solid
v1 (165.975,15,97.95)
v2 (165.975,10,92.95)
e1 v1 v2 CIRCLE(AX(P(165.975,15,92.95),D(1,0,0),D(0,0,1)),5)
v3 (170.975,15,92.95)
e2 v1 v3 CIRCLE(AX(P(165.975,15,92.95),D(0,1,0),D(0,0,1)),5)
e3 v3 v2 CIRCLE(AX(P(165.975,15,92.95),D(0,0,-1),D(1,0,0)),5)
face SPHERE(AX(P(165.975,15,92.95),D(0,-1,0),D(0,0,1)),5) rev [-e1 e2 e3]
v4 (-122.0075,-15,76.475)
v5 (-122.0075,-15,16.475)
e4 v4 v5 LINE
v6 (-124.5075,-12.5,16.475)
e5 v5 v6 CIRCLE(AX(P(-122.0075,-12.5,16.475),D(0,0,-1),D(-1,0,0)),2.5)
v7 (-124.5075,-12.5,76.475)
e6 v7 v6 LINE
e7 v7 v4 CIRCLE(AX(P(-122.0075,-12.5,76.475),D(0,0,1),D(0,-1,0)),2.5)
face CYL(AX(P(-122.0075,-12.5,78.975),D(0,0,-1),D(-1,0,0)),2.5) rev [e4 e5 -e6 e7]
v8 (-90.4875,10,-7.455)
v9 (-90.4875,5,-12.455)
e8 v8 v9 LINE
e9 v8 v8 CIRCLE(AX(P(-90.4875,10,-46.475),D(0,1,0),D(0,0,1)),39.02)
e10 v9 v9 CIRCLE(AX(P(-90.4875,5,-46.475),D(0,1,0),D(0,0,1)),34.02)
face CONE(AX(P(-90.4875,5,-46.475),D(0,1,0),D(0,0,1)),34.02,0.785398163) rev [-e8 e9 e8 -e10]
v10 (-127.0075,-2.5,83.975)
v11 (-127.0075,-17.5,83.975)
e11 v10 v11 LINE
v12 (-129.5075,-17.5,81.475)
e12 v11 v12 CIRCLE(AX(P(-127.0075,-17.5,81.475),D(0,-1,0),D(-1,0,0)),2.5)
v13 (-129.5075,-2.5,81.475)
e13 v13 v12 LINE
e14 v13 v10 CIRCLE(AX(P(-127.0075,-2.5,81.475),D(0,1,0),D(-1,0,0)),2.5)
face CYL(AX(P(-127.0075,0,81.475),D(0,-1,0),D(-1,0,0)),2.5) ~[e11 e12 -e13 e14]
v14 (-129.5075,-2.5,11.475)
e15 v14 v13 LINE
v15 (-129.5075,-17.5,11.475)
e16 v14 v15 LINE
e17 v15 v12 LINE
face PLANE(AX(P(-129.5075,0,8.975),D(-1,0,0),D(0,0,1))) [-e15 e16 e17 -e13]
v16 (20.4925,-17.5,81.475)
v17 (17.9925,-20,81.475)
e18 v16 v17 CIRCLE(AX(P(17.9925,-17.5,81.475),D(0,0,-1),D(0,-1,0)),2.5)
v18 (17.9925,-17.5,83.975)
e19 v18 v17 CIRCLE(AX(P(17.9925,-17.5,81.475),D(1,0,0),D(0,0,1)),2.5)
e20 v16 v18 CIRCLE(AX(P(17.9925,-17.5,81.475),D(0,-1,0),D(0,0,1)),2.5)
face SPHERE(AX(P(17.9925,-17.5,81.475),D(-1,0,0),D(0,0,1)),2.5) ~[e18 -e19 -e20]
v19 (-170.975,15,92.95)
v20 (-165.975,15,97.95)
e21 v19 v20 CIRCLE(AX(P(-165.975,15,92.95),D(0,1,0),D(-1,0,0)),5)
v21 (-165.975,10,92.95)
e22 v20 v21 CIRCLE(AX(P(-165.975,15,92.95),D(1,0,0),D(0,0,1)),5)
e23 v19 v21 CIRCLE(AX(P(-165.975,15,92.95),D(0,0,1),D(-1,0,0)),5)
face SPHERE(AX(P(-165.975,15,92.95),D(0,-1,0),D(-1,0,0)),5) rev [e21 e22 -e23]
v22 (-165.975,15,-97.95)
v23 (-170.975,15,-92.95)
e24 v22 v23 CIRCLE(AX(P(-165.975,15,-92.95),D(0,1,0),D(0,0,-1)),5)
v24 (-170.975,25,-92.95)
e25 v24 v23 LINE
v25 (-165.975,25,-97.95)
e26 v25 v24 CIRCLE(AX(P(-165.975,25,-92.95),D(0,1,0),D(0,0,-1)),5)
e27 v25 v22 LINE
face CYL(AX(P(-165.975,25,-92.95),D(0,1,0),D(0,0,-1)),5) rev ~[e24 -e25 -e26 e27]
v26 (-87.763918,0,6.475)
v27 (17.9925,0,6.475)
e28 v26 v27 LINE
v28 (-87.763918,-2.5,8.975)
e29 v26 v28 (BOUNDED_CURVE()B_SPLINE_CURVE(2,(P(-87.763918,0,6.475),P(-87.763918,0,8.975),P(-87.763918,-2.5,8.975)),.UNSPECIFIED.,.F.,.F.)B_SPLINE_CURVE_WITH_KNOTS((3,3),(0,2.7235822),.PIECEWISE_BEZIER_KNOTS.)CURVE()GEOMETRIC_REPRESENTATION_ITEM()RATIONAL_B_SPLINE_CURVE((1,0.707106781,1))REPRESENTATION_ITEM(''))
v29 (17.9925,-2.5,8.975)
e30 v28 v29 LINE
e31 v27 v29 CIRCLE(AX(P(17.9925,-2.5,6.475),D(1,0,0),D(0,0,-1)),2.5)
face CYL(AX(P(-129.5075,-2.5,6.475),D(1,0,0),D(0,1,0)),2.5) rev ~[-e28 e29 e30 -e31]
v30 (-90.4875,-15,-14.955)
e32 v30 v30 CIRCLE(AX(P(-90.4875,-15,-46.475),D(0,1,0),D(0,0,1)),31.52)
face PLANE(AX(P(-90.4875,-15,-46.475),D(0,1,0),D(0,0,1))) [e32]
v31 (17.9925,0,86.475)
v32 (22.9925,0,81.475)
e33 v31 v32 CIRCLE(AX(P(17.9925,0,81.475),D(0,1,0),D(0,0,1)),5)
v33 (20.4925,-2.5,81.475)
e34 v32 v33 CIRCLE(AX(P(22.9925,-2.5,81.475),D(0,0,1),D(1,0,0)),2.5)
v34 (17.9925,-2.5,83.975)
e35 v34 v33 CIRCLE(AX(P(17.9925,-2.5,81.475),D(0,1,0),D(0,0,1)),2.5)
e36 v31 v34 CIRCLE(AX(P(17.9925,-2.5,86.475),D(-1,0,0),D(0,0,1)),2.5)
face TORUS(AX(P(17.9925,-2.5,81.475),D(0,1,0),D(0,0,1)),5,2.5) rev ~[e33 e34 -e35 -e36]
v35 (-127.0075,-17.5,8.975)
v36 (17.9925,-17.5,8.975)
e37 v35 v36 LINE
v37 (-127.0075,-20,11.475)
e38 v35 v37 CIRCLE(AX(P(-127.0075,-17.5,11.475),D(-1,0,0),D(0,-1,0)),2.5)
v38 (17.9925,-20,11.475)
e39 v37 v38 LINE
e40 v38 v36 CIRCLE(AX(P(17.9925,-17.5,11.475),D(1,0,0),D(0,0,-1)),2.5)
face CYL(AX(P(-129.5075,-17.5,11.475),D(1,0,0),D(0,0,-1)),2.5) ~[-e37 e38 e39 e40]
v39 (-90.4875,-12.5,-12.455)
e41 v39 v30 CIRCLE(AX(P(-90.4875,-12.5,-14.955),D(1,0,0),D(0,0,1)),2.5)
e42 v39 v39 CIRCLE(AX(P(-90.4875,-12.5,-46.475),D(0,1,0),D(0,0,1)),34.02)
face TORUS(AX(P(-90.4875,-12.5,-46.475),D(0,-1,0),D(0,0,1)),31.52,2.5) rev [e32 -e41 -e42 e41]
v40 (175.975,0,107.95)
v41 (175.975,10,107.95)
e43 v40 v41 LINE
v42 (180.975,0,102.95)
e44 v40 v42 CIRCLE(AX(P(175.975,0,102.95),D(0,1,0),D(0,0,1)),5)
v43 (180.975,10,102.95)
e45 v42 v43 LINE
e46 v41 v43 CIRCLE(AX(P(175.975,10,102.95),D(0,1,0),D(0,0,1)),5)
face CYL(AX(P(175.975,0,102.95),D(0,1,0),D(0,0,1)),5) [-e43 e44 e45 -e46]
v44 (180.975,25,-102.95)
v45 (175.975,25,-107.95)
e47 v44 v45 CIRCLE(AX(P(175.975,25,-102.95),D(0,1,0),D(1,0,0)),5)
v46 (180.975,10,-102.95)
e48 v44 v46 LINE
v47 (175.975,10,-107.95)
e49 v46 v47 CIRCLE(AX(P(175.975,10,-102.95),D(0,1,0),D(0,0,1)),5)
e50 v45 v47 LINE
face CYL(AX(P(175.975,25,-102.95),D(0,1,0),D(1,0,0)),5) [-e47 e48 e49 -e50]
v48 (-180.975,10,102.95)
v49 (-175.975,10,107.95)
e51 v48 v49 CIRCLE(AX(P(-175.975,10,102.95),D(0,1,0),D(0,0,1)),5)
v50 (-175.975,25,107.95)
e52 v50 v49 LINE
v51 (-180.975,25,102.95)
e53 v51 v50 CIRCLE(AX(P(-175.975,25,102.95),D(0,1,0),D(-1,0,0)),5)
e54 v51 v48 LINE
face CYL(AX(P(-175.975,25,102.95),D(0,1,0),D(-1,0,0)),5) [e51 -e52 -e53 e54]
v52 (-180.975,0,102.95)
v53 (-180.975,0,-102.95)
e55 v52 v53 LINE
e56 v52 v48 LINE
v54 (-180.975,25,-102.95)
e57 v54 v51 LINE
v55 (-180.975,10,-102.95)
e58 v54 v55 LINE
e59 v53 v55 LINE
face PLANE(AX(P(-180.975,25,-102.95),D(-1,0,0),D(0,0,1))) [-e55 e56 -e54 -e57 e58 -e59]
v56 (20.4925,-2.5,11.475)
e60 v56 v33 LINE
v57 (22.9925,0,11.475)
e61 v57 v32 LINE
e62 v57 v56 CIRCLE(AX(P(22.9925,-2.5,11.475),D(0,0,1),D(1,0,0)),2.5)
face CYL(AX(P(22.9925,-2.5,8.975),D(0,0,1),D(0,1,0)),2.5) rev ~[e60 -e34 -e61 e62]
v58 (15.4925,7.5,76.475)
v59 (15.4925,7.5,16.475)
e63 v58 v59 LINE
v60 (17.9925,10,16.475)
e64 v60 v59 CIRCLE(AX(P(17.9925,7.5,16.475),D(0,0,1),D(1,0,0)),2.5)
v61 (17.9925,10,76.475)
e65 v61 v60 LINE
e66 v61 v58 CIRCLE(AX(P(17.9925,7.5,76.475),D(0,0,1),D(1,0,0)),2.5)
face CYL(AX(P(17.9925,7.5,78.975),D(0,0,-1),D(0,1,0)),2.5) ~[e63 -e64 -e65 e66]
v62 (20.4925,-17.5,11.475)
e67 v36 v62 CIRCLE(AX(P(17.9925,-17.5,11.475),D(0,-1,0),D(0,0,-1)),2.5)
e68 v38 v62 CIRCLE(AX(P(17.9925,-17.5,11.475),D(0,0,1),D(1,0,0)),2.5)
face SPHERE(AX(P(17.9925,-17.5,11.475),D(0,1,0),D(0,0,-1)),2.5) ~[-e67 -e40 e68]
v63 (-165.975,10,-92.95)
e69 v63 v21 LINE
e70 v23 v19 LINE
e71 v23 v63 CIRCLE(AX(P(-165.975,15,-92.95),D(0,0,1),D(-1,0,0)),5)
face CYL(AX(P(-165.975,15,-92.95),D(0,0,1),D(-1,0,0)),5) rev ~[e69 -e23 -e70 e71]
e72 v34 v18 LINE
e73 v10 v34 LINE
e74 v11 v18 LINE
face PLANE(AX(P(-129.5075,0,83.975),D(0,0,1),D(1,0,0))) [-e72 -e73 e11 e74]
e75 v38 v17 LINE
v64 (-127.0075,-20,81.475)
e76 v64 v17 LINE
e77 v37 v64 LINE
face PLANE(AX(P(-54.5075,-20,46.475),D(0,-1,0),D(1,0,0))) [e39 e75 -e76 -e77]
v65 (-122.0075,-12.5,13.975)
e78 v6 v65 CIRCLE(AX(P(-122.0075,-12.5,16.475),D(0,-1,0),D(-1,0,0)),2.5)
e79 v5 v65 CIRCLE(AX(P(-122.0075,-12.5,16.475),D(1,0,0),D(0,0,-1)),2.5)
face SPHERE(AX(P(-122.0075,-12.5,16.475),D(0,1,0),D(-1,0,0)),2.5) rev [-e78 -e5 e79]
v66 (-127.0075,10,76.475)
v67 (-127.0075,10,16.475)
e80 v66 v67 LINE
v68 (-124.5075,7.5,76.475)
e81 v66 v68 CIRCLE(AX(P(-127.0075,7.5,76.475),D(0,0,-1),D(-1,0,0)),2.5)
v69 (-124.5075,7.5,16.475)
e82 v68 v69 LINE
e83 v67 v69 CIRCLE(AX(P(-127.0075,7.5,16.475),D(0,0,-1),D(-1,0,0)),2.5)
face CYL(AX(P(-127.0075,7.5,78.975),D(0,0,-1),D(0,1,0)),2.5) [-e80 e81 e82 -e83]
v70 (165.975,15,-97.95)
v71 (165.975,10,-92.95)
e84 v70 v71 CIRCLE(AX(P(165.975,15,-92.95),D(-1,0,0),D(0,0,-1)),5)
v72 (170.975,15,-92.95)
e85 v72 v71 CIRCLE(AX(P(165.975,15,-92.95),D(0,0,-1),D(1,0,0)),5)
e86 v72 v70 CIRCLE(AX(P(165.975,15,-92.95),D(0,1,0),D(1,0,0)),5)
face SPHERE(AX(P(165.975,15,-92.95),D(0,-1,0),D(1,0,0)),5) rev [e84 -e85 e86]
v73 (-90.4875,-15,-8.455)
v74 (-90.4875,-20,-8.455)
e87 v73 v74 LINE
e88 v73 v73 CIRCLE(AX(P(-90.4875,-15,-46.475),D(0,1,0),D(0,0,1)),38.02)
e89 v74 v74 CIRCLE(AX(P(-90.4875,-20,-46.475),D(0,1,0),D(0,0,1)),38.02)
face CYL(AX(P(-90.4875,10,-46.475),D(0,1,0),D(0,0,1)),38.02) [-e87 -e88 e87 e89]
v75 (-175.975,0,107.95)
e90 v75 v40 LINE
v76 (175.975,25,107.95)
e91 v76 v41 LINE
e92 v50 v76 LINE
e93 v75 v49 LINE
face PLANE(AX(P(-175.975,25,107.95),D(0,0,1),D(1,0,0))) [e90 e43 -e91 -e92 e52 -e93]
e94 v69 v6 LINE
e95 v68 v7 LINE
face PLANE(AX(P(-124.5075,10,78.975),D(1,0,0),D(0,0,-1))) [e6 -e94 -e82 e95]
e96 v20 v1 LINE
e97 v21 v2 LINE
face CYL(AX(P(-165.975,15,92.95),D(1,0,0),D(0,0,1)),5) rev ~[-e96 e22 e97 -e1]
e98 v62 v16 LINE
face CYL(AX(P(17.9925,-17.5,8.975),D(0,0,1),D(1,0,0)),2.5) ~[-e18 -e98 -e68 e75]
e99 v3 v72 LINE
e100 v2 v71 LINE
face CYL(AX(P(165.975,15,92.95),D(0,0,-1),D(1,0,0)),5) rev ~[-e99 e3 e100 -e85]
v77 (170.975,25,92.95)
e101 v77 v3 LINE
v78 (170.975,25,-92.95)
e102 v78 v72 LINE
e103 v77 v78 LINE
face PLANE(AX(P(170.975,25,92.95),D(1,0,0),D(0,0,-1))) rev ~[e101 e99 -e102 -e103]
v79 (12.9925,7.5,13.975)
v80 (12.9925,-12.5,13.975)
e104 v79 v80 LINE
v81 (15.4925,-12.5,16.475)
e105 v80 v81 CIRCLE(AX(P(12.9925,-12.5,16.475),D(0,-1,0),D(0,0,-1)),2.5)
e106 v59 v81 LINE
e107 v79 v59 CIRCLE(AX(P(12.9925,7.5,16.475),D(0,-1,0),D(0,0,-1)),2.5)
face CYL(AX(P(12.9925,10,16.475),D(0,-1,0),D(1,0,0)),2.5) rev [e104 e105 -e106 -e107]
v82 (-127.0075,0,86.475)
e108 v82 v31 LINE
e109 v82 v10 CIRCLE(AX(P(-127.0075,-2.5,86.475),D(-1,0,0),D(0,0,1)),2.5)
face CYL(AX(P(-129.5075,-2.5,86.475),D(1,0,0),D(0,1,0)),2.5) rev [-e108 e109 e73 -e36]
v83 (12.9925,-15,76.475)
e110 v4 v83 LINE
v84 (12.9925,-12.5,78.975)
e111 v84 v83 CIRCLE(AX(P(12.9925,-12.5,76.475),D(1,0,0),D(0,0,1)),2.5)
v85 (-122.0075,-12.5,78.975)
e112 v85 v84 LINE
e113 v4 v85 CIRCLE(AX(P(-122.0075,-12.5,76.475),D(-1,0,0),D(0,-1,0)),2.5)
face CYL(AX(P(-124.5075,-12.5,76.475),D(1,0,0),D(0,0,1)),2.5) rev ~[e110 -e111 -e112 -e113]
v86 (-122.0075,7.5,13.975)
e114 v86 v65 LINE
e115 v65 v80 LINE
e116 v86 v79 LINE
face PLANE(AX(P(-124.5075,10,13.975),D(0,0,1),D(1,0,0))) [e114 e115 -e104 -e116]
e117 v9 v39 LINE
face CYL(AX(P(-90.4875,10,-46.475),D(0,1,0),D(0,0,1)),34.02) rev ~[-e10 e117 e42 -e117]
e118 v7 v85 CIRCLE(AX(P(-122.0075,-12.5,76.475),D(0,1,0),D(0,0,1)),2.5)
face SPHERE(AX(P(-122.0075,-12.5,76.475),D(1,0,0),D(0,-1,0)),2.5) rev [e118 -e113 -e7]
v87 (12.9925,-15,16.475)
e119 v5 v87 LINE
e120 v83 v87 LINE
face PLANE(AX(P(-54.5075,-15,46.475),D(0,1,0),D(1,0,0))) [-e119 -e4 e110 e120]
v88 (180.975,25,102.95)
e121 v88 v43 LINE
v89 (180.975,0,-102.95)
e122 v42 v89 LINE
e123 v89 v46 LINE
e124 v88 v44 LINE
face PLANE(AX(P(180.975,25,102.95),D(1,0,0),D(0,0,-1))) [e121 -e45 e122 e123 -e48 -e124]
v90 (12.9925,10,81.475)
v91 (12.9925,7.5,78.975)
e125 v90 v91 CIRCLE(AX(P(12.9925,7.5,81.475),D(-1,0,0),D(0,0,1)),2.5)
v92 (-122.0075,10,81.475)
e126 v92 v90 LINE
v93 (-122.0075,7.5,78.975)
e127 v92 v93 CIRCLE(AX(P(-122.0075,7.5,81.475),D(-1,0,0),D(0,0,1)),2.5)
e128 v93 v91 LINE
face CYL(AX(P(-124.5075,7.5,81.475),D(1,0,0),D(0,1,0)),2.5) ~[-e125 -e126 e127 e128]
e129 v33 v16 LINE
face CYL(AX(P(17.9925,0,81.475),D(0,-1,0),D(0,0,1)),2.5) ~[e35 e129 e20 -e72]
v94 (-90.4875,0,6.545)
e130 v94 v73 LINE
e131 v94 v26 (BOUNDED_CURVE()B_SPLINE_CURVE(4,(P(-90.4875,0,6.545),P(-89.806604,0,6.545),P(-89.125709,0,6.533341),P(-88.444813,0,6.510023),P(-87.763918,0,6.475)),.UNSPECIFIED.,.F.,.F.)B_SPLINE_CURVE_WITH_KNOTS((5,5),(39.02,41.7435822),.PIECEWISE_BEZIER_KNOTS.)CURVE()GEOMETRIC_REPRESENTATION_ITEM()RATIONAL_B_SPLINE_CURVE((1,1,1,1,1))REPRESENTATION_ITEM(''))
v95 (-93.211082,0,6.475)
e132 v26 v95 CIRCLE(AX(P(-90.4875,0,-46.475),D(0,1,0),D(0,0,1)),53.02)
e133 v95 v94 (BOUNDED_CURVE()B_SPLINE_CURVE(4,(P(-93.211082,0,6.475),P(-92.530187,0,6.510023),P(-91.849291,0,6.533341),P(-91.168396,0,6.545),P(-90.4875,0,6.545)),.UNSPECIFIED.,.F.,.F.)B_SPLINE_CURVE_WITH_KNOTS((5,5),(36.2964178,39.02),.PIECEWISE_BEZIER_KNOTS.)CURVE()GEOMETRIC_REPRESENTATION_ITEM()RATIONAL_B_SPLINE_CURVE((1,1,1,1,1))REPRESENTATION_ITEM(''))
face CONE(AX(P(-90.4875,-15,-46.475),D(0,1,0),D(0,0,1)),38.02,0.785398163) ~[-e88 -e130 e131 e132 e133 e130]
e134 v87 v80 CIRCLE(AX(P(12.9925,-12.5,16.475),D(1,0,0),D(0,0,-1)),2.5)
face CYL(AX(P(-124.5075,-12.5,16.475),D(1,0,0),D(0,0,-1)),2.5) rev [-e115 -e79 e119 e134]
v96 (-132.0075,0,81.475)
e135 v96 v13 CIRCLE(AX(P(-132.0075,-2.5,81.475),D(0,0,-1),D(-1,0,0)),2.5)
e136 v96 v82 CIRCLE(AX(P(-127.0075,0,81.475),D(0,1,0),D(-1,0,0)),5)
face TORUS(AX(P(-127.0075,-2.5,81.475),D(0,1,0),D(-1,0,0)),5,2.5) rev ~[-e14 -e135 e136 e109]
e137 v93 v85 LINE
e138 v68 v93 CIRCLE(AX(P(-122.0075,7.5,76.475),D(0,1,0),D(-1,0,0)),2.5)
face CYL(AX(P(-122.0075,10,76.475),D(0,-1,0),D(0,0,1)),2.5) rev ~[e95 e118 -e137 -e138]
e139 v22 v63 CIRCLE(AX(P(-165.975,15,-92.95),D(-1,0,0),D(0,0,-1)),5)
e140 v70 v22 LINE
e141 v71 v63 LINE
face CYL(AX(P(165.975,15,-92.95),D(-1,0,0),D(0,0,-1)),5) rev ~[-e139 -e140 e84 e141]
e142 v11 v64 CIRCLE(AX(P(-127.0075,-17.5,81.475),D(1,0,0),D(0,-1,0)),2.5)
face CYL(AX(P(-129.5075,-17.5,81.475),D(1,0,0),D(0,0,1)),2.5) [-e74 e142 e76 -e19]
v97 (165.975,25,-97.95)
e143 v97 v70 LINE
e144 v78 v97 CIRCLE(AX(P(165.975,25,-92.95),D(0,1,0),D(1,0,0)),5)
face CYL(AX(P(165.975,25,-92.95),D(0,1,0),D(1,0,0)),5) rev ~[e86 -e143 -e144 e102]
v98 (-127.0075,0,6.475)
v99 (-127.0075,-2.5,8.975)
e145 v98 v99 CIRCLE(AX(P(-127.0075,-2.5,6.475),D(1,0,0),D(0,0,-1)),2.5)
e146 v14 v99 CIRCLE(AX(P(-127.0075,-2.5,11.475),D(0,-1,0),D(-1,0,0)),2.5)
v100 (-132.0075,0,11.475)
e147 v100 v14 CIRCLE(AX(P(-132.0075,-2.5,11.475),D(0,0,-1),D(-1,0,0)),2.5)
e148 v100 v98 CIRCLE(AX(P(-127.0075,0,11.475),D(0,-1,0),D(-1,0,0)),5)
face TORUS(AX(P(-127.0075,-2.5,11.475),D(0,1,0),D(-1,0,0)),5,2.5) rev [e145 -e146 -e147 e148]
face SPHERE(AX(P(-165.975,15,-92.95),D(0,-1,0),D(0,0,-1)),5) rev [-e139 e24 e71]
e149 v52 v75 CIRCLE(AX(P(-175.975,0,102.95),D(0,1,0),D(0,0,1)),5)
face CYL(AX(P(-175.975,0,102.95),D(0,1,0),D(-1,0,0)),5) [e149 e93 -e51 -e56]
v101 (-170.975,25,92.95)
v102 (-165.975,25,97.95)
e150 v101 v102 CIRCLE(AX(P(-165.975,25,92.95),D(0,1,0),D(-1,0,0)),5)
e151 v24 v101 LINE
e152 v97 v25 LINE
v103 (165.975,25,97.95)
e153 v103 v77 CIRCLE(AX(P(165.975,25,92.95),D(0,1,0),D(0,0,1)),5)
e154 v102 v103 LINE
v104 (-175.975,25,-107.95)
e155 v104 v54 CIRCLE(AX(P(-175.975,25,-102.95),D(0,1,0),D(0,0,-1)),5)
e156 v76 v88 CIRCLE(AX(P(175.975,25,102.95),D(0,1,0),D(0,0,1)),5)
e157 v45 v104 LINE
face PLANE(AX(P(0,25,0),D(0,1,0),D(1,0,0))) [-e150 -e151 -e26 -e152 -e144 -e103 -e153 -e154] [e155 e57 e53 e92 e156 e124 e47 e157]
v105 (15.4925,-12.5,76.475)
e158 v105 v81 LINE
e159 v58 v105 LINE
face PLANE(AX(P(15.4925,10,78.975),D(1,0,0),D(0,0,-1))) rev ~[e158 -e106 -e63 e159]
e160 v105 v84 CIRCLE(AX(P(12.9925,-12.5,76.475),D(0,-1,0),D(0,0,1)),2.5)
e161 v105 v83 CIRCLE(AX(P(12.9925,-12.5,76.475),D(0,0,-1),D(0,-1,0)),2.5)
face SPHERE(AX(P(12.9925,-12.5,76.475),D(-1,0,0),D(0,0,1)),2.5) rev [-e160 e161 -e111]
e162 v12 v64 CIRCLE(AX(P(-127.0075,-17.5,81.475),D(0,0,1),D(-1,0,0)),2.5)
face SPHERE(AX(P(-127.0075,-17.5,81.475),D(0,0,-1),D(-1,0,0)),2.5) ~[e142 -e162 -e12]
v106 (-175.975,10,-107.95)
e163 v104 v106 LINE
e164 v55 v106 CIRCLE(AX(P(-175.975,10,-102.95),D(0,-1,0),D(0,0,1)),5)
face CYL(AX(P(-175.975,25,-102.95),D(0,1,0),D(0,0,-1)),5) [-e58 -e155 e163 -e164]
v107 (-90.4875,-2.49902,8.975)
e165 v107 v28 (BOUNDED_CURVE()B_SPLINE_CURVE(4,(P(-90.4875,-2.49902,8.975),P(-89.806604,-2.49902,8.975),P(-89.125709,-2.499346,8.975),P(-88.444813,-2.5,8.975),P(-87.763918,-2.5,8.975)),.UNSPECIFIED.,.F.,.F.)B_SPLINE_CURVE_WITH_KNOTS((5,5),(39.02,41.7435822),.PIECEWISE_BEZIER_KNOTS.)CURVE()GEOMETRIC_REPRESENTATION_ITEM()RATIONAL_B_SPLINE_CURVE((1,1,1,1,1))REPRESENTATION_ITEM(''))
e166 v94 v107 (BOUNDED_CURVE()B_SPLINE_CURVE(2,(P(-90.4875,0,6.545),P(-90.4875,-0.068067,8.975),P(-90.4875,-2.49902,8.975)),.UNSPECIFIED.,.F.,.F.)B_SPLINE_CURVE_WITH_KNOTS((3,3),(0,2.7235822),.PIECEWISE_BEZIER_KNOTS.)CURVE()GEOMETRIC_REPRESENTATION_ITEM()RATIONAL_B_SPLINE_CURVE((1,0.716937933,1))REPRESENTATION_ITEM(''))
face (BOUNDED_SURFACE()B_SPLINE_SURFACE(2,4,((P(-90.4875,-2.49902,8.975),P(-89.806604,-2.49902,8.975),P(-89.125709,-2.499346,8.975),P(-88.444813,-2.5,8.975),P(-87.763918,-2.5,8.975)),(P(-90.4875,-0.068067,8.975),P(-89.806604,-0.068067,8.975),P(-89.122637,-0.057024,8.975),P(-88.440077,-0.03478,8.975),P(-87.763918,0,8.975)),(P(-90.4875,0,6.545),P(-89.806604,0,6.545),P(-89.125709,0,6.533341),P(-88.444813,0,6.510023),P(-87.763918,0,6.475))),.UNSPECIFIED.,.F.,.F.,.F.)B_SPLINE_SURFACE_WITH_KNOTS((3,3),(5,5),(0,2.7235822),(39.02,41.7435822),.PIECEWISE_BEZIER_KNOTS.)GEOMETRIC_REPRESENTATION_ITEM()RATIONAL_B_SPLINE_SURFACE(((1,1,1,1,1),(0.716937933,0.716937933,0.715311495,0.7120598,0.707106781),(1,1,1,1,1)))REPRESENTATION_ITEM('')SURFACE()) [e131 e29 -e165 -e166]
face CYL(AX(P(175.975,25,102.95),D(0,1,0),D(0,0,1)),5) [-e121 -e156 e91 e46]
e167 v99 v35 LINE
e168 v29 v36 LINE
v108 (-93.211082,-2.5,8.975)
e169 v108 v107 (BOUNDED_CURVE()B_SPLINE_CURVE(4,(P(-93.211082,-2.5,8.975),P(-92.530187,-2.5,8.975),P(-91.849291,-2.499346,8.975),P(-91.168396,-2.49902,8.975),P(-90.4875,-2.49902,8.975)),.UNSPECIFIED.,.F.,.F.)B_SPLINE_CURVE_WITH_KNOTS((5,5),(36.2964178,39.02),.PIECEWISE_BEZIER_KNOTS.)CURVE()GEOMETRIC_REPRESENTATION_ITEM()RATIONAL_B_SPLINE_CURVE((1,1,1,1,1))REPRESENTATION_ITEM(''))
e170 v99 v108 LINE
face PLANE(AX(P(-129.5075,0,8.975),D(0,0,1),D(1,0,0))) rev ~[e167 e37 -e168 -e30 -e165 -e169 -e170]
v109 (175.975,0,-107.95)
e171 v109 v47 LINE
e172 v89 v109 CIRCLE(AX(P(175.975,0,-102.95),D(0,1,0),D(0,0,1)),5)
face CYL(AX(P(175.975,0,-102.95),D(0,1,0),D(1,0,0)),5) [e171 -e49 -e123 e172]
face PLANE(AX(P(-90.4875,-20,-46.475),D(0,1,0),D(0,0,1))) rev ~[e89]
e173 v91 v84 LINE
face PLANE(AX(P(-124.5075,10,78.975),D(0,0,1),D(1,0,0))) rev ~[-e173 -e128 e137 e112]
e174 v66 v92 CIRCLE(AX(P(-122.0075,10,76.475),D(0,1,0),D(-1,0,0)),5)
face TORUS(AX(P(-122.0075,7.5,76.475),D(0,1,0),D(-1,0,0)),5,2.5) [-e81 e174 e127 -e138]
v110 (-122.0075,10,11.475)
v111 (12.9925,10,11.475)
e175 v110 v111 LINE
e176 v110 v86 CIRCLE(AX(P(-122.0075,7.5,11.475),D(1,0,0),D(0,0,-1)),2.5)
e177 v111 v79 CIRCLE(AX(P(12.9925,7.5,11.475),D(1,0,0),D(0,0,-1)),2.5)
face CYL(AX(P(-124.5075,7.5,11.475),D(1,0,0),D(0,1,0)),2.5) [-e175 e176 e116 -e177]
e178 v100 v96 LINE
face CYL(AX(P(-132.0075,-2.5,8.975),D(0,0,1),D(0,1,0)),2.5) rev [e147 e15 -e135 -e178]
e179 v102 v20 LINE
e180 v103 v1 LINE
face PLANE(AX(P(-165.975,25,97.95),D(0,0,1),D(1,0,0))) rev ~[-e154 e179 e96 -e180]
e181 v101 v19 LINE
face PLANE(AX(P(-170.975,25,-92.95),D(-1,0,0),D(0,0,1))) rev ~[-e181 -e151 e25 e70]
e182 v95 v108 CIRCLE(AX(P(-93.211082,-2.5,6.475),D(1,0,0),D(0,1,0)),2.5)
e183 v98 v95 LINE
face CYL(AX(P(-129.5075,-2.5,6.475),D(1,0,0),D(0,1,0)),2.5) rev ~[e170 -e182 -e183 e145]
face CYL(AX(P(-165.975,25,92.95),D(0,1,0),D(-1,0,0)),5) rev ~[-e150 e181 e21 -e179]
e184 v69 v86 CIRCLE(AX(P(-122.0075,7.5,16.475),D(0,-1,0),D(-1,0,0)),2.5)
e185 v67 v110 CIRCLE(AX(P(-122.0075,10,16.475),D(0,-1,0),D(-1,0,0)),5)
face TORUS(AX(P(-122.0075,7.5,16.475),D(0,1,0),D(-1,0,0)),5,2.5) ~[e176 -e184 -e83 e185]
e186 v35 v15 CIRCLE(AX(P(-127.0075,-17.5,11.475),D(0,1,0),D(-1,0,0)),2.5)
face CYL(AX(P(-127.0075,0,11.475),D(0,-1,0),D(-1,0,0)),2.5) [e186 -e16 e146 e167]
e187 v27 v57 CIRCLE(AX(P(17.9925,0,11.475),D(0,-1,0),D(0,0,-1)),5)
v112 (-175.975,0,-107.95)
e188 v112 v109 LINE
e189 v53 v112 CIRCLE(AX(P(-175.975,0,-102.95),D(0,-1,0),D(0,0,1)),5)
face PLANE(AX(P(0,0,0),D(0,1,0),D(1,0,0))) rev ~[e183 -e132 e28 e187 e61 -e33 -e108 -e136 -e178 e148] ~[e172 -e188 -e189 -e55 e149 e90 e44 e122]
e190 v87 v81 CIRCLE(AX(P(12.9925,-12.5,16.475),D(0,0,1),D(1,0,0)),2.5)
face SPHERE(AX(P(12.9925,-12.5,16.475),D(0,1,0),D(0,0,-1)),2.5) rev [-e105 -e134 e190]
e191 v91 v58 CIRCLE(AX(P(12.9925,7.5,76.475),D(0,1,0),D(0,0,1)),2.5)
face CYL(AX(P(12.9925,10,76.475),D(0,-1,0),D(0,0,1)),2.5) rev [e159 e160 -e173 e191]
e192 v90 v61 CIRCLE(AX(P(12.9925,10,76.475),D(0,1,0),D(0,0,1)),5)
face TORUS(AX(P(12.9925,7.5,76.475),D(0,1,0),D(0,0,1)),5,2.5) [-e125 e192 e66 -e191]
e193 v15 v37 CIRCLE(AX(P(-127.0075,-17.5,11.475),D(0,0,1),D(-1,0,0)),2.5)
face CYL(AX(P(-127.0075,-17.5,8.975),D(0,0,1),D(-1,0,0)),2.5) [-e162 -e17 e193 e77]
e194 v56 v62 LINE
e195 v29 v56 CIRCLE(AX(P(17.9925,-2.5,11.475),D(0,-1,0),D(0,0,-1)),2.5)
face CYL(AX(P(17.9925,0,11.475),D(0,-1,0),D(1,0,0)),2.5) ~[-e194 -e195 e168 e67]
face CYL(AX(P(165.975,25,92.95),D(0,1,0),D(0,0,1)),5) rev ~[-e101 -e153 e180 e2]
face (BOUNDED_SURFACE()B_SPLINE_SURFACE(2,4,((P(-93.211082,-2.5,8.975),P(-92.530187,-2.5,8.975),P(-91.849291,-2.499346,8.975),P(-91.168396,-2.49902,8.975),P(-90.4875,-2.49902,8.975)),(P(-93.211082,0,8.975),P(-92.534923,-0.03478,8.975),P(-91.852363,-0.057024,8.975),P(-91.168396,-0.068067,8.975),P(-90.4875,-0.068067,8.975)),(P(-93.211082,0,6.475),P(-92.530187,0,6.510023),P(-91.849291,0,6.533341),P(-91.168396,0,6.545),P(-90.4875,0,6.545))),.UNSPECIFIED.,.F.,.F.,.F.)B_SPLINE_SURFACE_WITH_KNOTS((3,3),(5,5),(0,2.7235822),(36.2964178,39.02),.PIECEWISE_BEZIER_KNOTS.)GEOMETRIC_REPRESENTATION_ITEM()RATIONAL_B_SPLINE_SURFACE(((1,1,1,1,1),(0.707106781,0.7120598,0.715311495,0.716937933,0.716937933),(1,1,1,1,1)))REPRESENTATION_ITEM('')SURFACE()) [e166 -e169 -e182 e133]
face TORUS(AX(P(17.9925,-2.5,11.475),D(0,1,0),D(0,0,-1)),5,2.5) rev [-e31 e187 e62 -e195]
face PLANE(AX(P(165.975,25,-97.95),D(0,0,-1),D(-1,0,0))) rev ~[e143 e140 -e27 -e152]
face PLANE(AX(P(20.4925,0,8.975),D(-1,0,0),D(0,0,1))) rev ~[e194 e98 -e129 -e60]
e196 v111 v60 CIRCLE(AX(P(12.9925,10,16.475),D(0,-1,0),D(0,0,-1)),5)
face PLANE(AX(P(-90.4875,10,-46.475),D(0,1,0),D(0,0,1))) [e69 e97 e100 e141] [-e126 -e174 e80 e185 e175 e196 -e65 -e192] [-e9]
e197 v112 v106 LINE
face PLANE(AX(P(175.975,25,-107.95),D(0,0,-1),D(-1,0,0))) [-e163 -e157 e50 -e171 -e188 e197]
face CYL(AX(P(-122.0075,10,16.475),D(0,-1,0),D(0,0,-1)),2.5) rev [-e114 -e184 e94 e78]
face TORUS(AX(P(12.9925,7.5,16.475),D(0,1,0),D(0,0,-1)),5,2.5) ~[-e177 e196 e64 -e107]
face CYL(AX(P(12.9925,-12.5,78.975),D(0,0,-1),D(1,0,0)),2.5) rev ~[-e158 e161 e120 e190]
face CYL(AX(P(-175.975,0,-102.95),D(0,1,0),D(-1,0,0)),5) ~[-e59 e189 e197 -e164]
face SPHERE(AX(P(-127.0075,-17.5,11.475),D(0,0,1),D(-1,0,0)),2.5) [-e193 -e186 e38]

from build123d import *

# Parameters (mm, degrees)
SKETCH1_W           = 361.95
SKETCH1_H           = 215.9
BOSS_EXTRUDE1_DEPTH = 10
FILLET1_R           = 5
BOSS_EXTRUDE2_START = 15
BOSS_EXTRUDE2_DEPTH = 15
FILLET2_R           = 5
SKETCH3_R           = 38.02
BOSS_EXTRUDE3_DEPTH = 30
SKETCH4_R           = 34.02
CUT_EXTRUDE1_DEPTH  = 25
CHAMFER1_SIZE       = 15
CHAMFER2_SIZE       = 5
FILLET3_R           = 2.5
SKETCH6_W           = 150
SKETCH6_H           = 75
BOSS_EXTRUDE4_DEPTH = 20
SKETCH5_W           = 140
SKETCH5_H           = 65
CUT_EXTRUDE2_DEPTH  = 25
FILLET4_R           = 2.5
FILLET5_R           = 2.5


with BuildPart() as part:
    # Sketch1 → Boss-Extrude1 (new body)
    with BuildSketch(Plane(origin=(0, 0, 0), x_dir=(1, 0, 0), z_dir=(0, 1, 0))):
        Rectangle(SKETCH1_W, SKETCH1_H)
    extrude(amount=BOSS_EXTRUDE1_DEPTH)

    # Fillet1
    fillet1_edges = [part.edges().sort_by_distance(p)[0] for p in [
        (-180.975, 5, 107.95),
        (-180.975, 5, -107.95),
        (180.975, 5, -107.95),
        (180.975, 5, 107.95),
    ]]
    fillet(fillet1_edges, radius=FILLET1_R)

    # Sketch2 → Boss-Extrude2 (add)
    with BuildSketch(Plane(origin=(0, 10, 0), x_dir=(1, 0, 0), z_dir=(0, 1, 0)).offset(BOSS_EXTRUDE2_START)):
        with BuildLine():
            Line((-175.975, -107.95), (175.975, -107.95))
            ThreePointArc((175.975, -107.95), (179.510533906, -106.485533906), (180.975, -102.95))
            Line((180.975, -102.95), (180.975, 102.95))
            ThreePointArc((180.975, 102.95), (179.510533906, 106.485533906), (175.975, 107.95))
            Line((175.975, 107.95), (-175.975, 107.95))
            ThreePointArc((-175.975, 107.95), (-179.510533906, 106.485533906), (-180.975, 102.95))
            Line((-180.975, 102.95), (-180.975, -102.95))
            ThreePointArc((-180.975, -102.95), (-179.510533906, -106.485533906), (-175.975, -107.95))
        make_face()
        with BuildLine():
            Line((-165.975, -97.95), (165.975, -97.95))
            ThreePointArc((165.975, -97.95), (169.510533906, -96.485533906), (170.975, -92.95))
            Line((170.975, -92.95), (170.975, 92.95))
            ThreePointArc((170.975, 92.95), (169.510533906, 96.485533906), (165.975, 97.95))
            Line((165.975, 97.95), (-165.975, 97.95))
            ThreePointArc((-165.975, 97.95), (-169.510533906, 96.485533906), (-170.975, 92.95))
            Line((-170.975, 92.95), (-170.975, -92.95))
            ThreePointArc((-170.975, -92.95), (-169.510533906, -96.485533906), (-165.975, -97.95))
        make_face(mode=Mode.SUBTRACT)
    extrude(amount=-BOSS_EXTRUDE2_DEPTH)

    # Fillet2
    fillet2_edges = [part.edges().sort_by_distance(p)[0] for p in [
        (0, 10, 97.95),
        (169.510533906, 10, 96.485533906),
        (170.975, 10, 0),
        (169.510533906, 10, -96.485533906),
        (0, 10, -97.95),
        (-169.510533906, 10, -96.485533906),
        (-170.975, 10, 0),
        (-169.510533906, 10, 96.485533906),
    ]]
    fillet(fillet2_edges, radius=FILLET2_R)

    # Sketch3 → Boss-Extrude3 (add)
    with BuildSketch(Plane(origin=(0, 10, 0), x_dir=(1, 0, 0), z_dir=(0, 1, 0))):
        with Locations(Location((-90.4875, 46.475, 0), (0, 0, 270))):
            Circle(SKETCH3_R)
    extrude(amount=-BOSS_EXTRUDE3_DEPTH)

    # Sketch4 → Cut-Extrude1 (cut)
    with BuildSketch(Plane(origin=(0, 10, 0), x_dir=(1, 0, 0), z_dir=(0, 1, 0))):
        with Locations(Location((-90.4875, 46.475, 0), (0, 0, 270))):
            Circle(SKETCH4_R)
    extrude(amount=-CUT_EXTRUDE1_DEPTH, mode=Mode.SUBTRACT)

    # Chamfer1
    chamfer1_edges = [part.edges().sort_by_distance(p)[0] for p in [
        (-90.4875, 0, -84.495),
    ]]
    chamfer(chamfer1_edges, length=CHAMFER1_SIZE)

    # Chamfer2
    chamfer2_edges = [part.edges().sort_by_distance(p)[0] for p in [
        (-90.4875, 10, -80.495),
    ]]
    chamfer(chamfer2_edges, length=CHAMFER2_SIZE)

    # Fillet3
    fillet3_edges = [part.edges().sort_by_distance(p)[0] for p in [
        (-90.4875, -15, -80.495),
    ]]
    fillet(fillet3_edges, radius=FILLET3_R)

    # Sketch6 → Boss-Extrude4 (add)
    with BuildSketch(Plane.XZ):
        with Locations((-54.5075, 46.475)):
            Rectangle(SKETCH6_W, SKETCH6_H)
    extrude(amount=BOSS_EXTRUDE4_DEPTH)

    # Sketch5 → Cut-Extrude2 (cut)
    with BuildSketch(Plane(origin=(0, 10, 0), x_dir=(1, 0, 0), z_dir=(0, 1, 0))):
        with Locations((-54.5075, -46.475)):
            Rectangle(SKETCH5_W, SKETCH5_H)
    extrude(amount=-CUT_EXTRUDE2_DEPTH, mode=Mode.SUBTRACT)

    # Fillet4
    fillet4_edges = [part.edges().sort_by_distance(p)[0] for p in [
        (-129.5075, -20, 46.475),
        (-129.5075, -10, 83.975),
        (-54.5075, 0, 8.975),
        (-129.5075, -10, 8.975),
        (20.4925, 0, 46.475),
        (20.4925, -10, 8.975),
        (-54.5075, -20, 83.975),
        (20.4925, -10, 83.975),
        (-54.5075, -20, 8.975),
        (20.4925, -20, 46.475),
        (-129.5075, 0, 46.475),
        (-54.5075, 0, 83.975),
    ]]
    fillet(fillet4_edges, radius=FILLET4_R)

    # Fillet5
    fillet5_edges = [part.edges().sort_by_distance(p)[0] for p in [
        (-54.5075, 10, 13.975),
        (-124.5075, -2.5, 13.975),
        (15.4925, 10, 46.475),
        (15.4925, -2.5, 13.975),
        (-54.5075, -15, 78.975),
        (15.4925, -2.5, 78.975),
        (-124.5075, -15, 46.475),
        (-124.5075, -2.5, 78.975),
        (-54.5075, -15, 13.975),
        (15.4925, -15, 46.475),
        (-124.5075, 10, 46.475),
        (-54.5075, 10, 78.975),
    ]]
    fillet(fillet5_edges, radius=FILLET5_R)


solid = part.part
